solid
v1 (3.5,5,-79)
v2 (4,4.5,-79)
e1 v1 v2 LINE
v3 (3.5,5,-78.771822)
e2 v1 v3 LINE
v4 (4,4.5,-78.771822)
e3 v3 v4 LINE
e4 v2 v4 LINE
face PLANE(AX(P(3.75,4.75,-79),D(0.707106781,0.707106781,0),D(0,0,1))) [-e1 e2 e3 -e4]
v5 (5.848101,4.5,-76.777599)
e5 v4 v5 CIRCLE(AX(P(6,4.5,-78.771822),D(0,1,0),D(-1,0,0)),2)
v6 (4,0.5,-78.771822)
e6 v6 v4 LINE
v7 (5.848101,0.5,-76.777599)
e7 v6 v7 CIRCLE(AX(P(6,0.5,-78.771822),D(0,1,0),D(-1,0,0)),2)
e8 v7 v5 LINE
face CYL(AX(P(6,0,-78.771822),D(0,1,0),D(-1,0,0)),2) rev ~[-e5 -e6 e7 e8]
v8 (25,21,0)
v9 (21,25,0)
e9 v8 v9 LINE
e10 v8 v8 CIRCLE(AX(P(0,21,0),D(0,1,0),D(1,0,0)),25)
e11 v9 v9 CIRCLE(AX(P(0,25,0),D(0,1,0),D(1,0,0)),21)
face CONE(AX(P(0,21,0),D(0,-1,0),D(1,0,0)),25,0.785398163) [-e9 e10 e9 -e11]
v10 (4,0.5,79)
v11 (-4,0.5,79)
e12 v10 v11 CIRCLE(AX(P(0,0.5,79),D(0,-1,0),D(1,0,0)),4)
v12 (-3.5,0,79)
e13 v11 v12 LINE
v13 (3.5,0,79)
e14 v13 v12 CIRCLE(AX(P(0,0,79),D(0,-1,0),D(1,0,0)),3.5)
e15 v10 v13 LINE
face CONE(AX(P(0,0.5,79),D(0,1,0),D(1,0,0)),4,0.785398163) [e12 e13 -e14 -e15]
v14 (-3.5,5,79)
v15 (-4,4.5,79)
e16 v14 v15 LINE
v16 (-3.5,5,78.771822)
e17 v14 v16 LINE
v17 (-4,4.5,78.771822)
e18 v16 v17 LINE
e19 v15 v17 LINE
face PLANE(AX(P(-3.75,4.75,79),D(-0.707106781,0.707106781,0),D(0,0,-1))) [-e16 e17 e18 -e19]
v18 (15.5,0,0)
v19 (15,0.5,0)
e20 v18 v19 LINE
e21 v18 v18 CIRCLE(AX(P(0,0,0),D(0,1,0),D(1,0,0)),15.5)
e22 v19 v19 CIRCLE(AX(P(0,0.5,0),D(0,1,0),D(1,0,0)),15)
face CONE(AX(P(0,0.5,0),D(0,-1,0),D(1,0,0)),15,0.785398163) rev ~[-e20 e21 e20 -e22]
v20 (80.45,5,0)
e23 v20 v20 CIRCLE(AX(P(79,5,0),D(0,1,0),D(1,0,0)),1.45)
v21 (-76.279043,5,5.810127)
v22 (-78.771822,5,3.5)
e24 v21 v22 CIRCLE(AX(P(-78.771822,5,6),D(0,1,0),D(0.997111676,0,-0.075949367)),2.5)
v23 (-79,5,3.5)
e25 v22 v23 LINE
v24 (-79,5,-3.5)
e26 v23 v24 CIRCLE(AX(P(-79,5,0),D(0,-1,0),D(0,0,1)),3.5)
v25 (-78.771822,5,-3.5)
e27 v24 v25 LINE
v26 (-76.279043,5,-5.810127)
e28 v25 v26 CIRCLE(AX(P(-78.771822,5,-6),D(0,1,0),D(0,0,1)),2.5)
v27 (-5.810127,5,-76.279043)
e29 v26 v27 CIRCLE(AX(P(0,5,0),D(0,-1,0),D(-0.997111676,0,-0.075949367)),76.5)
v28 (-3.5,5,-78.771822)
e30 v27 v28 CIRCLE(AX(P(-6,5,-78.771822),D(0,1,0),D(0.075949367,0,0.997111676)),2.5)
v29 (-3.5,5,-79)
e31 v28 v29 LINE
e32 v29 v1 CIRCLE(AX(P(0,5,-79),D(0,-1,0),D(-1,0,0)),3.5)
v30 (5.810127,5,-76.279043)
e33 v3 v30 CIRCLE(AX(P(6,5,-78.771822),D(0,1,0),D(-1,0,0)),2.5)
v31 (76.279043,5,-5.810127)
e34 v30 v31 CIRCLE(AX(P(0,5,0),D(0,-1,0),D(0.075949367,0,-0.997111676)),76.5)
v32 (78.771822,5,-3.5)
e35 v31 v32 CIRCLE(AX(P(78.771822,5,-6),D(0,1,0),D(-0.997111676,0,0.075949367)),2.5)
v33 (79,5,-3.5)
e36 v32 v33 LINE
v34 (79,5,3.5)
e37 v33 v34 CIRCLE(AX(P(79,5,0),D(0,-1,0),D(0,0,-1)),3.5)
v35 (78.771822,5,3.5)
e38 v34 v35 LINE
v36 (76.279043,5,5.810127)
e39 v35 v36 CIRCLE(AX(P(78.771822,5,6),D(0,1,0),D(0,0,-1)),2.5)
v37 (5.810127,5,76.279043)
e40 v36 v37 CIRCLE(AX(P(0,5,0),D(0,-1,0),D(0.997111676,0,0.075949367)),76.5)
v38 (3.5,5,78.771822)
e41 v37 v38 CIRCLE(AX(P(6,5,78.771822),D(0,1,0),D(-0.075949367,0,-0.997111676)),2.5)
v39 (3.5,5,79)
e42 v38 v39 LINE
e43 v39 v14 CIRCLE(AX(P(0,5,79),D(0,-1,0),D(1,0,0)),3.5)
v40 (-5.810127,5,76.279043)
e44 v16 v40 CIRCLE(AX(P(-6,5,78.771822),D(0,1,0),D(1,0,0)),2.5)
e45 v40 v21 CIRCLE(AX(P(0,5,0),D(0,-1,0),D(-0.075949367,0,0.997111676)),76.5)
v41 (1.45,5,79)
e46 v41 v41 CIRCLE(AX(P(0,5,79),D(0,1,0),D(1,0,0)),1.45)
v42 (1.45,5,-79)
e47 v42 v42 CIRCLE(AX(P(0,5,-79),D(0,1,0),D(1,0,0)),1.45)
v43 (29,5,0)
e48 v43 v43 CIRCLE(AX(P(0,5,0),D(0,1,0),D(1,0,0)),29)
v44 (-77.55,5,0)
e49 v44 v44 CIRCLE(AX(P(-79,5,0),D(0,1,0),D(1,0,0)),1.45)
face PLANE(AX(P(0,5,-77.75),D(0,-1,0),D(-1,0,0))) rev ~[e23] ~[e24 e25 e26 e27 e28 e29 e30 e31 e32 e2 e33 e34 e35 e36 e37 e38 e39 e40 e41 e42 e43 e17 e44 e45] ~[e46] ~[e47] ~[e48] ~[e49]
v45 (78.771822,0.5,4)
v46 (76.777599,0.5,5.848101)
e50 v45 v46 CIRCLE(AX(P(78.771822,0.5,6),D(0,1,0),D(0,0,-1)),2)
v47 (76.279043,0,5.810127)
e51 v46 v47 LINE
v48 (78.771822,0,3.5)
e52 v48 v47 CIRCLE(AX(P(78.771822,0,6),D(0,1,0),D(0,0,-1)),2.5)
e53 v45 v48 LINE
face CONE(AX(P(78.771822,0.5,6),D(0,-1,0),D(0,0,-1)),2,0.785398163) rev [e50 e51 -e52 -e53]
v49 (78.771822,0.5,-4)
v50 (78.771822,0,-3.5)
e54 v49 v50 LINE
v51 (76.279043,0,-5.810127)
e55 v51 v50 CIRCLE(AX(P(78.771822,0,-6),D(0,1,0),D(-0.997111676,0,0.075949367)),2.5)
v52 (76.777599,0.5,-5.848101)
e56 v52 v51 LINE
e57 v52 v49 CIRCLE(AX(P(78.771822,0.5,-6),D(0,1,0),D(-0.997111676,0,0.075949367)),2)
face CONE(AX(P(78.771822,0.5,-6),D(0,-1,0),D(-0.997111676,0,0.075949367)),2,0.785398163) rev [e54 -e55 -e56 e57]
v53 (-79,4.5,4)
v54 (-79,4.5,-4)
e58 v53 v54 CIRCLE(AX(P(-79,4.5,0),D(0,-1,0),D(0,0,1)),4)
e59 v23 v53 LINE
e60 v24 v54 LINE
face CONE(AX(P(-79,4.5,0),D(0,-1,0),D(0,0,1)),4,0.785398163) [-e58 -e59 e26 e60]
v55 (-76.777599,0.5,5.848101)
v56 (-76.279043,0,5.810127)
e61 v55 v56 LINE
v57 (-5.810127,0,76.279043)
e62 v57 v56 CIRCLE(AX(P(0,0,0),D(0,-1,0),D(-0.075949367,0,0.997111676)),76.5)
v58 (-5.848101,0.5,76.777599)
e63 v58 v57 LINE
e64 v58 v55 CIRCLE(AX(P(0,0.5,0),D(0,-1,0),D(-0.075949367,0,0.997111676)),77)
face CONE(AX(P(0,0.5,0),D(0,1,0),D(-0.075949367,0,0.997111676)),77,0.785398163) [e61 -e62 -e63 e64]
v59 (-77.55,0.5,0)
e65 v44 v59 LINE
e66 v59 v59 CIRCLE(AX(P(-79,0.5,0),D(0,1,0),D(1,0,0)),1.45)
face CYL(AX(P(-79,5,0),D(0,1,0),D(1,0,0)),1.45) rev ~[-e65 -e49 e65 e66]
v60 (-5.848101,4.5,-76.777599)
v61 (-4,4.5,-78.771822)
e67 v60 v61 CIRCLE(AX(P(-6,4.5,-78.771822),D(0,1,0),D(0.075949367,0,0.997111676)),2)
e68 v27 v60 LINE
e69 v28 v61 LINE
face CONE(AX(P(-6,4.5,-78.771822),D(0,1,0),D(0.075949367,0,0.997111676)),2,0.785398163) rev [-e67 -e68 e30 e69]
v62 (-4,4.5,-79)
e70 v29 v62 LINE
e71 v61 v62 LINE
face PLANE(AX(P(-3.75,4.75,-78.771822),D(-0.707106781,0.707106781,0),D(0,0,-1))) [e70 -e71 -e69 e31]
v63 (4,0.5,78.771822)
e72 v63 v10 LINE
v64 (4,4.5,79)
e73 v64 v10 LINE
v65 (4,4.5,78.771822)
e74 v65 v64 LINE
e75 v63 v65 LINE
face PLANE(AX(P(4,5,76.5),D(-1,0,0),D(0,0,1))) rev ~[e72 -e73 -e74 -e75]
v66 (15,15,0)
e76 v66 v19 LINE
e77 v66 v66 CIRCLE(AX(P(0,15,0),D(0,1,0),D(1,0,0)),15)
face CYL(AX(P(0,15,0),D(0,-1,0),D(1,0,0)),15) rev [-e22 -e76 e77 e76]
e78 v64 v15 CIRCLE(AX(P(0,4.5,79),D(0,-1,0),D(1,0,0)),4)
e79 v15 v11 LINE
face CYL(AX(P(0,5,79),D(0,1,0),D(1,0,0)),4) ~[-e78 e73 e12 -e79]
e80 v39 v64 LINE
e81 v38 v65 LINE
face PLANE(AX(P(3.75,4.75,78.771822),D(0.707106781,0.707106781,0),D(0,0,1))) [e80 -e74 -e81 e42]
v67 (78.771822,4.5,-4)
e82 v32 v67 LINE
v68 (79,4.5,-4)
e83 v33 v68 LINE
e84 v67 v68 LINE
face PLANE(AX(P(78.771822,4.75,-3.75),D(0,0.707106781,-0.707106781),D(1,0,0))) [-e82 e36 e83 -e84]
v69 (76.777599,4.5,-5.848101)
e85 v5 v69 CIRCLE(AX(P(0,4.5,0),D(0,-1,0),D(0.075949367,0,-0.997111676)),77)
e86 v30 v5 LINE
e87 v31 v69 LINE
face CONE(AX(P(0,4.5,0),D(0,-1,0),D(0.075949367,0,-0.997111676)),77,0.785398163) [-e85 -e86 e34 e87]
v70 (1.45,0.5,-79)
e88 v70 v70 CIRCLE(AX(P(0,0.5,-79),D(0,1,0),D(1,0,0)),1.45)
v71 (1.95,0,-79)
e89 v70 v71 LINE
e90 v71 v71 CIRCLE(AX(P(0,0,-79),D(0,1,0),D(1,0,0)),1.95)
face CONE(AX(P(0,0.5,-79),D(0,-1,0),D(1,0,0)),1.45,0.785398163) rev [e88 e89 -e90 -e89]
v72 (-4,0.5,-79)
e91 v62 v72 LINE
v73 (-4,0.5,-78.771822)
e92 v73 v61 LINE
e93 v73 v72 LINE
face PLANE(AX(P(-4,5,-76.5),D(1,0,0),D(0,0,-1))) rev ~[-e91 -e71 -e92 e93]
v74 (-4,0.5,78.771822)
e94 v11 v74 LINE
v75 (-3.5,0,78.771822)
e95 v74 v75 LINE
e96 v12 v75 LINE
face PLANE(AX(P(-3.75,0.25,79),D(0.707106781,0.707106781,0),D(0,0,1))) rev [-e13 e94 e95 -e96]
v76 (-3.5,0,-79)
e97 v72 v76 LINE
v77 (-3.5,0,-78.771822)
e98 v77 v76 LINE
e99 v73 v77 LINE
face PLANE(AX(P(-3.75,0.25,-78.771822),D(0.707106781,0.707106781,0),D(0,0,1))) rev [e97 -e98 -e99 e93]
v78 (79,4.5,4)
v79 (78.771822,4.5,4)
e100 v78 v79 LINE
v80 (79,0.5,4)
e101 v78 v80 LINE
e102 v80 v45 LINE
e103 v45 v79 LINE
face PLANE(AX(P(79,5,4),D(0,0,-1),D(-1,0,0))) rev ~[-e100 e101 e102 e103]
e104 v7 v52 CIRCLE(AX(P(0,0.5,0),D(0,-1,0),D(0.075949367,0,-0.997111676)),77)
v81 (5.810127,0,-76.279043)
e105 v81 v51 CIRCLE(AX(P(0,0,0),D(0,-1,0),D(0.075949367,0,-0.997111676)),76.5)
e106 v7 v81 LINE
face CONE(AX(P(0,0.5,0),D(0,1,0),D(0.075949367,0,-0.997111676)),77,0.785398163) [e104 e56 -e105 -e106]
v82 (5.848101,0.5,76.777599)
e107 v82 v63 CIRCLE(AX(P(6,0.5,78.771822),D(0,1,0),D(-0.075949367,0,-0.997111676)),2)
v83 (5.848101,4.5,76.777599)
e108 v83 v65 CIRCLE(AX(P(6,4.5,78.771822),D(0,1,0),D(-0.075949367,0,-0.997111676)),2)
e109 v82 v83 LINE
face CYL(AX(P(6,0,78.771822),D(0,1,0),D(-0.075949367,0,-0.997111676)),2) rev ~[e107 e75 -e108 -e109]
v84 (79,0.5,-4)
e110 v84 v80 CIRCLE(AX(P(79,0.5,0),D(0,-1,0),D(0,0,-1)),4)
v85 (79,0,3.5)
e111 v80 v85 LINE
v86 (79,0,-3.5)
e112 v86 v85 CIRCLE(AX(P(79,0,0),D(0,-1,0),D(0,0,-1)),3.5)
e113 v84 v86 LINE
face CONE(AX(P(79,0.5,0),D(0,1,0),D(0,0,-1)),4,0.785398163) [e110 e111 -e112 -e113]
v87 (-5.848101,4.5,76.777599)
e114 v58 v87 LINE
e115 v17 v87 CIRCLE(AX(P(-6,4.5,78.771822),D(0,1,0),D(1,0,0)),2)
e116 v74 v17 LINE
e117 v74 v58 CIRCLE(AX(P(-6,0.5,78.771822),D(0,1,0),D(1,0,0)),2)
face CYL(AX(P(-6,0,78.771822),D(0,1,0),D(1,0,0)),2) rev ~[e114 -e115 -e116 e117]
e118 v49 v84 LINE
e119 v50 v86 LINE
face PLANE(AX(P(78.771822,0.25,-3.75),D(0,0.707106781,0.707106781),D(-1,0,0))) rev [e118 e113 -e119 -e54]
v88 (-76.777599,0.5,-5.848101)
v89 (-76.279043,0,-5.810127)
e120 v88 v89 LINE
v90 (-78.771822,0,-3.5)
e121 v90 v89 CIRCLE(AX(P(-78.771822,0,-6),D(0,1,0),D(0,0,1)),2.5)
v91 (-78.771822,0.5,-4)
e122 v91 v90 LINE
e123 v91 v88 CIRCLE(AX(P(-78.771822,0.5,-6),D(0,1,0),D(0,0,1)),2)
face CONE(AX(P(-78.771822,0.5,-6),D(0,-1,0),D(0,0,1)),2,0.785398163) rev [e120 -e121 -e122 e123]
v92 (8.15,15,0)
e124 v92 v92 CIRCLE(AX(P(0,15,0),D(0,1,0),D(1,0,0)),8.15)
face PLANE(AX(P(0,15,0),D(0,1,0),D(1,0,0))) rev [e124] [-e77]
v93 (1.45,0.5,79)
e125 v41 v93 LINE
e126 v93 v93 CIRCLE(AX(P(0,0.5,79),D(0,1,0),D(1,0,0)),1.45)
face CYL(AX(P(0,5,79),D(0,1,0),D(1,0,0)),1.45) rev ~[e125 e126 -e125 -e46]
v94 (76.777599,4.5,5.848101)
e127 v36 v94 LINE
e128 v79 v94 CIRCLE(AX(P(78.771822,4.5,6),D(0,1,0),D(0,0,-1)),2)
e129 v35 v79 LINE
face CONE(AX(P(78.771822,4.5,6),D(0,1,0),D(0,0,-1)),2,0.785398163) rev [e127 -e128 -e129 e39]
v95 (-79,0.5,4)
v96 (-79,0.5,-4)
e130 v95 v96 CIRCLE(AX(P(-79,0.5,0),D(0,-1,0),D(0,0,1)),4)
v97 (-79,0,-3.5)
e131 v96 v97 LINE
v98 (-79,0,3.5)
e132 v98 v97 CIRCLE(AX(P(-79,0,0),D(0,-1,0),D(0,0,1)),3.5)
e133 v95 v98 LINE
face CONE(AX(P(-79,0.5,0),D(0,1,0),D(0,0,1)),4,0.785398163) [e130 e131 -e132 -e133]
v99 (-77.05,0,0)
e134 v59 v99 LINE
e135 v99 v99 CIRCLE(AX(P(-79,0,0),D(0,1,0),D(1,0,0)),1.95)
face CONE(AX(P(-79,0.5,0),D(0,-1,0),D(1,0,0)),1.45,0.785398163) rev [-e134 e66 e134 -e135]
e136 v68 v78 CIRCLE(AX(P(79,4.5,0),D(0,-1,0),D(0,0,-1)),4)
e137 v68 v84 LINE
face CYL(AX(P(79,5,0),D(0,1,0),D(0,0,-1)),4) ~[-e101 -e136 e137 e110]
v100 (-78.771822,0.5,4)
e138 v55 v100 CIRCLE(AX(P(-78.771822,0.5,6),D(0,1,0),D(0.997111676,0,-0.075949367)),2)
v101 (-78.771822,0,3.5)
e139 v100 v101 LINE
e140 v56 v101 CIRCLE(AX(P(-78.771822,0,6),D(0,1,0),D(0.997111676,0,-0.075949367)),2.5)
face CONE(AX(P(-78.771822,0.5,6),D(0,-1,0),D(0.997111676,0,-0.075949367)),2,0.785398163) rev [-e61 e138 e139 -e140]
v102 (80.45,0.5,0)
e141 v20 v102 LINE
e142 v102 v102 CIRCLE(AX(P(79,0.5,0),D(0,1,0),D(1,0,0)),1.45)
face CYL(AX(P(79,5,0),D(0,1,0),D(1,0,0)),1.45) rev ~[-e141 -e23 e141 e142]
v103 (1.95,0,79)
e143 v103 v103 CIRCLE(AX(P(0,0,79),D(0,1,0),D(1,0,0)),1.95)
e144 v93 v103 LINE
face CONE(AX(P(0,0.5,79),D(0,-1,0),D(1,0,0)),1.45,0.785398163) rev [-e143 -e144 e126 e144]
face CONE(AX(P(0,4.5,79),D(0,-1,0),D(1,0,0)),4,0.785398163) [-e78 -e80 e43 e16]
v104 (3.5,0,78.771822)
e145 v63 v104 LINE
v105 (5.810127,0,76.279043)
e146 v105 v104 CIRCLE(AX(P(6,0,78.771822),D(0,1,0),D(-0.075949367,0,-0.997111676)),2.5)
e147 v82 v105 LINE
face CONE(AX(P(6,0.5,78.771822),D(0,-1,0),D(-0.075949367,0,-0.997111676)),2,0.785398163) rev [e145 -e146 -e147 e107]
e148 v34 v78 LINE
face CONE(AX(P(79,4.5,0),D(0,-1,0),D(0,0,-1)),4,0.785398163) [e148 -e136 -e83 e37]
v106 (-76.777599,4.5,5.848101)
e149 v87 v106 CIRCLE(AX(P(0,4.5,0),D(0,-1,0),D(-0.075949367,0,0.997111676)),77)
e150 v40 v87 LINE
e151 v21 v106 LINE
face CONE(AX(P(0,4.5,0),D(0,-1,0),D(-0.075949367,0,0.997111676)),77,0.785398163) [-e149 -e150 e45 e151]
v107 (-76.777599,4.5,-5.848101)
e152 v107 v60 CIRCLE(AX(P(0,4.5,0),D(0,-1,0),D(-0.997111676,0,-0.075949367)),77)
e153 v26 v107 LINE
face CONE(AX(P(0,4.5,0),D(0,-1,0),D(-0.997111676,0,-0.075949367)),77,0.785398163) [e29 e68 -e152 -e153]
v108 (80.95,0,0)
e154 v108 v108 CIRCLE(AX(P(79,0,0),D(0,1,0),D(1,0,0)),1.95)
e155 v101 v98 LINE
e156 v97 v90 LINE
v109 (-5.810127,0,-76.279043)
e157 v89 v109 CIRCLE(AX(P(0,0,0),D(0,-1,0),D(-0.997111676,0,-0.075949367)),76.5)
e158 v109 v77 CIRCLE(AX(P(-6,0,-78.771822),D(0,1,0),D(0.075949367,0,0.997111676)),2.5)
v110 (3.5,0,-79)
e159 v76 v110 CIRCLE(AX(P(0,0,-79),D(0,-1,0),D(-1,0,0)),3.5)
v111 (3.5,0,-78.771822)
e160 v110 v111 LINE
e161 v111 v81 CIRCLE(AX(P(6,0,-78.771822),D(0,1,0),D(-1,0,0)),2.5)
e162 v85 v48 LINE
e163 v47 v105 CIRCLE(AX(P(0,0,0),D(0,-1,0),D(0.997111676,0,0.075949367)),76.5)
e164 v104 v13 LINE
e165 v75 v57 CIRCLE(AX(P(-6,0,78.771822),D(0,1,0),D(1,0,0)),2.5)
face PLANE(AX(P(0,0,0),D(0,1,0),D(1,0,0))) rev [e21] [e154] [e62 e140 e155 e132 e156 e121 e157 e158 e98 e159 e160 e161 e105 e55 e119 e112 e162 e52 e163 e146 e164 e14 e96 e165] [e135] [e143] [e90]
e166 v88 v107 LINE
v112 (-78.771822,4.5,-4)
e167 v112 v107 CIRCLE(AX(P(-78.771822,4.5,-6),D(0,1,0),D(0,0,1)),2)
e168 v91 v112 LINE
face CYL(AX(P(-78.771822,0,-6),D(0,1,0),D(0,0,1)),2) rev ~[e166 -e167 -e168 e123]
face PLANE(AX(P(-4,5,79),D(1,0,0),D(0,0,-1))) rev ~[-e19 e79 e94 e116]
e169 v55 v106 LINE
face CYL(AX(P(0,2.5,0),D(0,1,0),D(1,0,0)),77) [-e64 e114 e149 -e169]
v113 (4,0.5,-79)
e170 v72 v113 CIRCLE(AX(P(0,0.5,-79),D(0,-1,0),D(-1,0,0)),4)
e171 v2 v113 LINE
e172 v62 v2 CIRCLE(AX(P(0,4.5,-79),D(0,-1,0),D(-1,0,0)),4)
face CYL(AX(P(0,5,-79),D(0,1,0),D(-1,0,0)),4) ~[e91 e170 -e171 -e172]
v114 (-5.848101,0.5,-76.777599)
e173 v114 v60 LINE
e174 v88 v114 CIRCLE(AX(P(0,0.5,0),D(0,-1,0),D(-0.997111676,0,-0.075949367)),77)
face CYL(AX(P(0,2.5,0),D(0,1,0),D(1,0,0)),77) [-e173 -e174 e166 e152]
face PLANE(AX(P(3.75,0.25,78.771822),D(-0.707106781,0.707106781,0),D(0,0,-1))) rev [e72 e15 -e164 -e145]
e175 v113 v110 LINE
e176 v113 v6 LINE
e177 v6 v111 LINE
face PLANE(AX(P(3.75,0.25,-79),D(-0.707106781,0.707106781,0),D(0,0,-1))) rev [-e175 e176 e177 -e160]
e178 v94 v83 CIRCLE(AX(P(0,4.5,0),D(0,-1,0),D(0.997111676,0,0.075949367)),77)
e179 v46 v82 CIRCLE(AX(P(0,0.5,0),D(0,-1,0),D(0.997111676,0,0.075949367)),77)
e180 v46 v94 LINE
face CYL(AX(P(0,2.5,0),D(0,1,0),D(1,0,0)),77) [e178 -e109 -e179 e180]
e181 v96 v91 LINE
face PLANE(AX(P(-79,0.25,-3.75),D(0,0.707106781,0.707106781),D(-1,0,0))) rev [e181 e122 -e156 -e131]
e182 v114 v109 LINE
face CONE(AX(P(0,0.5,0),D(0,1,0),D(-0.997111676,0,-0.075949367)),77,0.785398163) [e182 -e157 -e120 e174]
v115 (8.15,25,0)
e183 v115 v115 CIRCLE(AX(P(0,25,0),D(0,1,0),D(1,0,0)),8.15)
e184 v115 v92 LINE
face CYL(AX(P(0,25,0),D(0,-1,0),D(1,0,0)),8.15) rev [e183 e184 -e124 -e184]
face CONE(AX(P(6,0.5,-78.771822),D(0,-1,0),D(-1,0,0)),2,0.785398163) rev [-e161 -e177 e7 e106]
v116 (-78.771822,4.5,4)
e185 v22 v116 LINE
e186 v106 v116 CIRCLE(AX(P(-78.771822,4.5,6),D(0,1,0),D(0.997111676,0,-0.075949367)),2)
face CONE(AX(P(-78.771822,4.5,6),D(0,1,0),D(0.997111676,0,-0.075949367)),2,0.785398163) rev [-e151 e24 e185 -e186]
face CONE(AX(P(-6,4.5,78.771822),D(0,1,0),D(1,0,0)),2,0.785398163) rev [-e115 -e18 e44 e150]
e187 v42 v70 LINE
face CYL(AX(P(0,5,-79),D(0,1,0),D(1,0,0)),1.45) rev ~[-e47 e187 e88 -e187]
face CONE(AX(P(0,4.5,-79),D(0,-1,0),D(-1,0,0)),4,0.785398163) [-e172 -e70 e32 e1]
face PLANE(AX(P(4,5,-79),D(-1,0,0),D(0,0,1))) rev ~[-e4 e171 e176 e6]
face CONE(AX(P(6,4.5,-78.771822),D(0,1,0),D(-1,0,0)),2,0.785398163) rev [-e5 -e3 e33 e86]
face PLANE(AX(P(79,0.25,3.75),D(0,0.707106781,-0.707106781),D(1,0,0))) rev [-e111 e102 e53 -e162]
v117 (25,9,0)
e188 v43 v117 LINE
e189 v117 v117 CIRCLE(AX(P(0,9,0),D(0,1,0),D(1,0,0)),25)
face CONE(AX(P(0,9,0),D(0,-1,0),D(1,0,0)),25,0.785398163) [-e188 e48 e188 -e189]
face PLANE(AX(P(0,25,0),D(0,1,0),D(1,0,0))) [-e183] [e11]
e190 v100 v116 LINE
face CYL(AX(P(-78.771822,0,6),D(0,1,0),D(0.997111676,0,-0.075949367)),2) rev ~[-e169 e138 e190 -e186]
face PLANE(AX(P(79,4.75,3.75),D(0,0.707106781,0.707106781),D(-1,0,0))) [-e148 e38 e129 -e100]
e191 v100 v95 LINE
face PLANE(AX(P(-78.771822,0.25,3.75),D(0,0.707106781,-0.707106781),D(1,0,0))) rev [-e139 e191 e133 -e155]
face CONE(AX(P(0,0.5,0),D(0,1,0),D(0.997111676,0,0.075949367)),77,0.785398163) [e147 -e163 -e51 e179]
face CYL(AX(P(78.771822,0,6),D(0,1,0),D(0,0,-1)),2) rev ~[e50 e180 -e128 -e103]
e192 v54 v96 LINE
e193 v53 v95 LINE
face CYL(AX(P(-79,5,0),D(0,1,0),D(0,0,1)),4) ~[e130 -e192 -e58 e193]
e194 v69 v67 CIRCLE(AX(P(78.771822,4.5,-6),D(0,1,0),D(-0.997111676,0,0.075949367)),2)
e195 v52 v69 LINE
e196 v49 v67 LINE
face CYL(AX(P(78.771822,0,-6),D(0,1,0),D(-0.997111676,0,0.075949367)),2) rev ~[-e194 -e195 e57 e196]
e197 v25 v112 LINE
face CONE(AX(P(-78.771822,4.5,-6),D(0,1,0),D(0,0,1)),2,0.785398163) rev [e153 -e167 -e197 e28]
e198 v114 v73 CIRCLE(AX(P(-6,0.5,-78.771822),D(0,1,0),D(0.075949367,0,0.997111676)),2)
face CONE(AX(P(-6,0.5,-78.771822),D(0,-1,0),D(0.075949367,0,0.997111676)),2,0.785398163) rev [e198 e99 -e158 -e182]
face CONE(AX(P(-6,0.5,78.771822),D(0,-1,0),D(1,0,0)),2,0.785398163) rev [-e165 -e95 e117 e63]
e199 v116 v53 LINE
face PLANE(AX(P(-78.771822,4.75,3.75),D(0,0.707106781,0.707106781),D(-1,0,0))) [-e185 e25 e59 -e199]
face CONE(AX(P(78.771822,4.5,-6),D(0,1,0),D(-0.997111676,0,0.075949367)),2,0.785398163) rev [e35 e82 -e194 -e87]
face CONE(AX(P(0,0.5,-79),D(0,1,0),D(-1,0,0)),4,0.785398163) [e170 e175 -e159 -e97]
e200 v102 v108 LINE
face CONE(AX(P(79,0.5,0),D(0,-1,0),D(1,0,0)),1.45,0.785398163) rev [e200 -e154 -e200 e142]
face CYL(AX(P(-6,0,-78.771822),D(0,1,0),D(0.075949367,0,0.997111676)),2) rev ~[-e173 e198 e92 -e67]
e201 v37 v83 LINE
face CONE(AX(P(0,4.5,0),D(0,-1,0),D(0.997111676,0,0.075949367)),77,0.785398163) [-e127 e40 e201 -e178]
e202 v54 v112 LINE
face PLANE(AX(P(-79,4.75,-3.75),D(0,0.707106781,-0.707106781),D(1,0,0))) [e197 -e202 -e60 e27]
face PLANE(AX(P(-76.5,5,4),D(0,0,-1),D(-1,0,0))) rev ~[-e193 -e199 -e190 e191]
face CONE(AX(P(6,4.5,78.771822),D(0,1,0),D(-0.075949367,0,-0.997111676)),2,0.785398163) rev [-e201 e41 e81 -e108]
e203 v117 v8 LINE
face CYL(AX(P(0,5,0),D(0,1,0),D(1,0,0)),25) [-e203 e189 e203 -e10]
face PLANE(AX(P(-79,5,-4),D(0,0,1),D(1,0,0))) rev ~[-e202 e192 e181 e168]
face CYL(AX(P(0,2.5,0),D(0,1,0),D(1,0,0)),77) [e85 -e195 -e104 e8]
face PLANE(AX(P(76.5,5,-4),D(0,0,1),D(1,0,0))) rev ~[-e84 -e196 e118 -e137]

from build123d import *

# Parameters (mm, degrees)
SZKIC2_W                    = 62
SZKIC2_H                    = 5
SZKIC3_R                    = 1.45
DODANIE_WYCI_GNI_CIE1_DEPTH = 5
SFAZOWANIE1_SIZE            = 4
ZAOKR_GLENIE1_R             = 2
SFAZOWANIE2_SIZE            = 0.5


with BuildPart() as part:
    # Szkic2 → Obrót1 (revolve)
    with BuildSketch(Plane.XY):
        Polygon((15, 15), (15, 5), (25, 5), (25, 25), (8.15, 25), (8.15, 15), align=None)
        with Locations((46, 2.5)):
            Rectangle(SZKIC2_W, SZKIC2_H)
    revolve(axis=Axis((0, 0, 0), (0, 1, 0)))

    # Szkic3 → Dodanie-wyciągnięcie1 (add)
    with BuildSketch(Plane(origin=(0, 5, 0), x_dir=(1, 0, 0), z_dir=(0, 1, 0))):
        with BuildLine():
            Line((-4, 76.5), (-4, 79))
            ThreePointArc((-4, 79), (0, 83), (4, 79))
            Line((4, 79), (4, 76.5))
            ThreePointArc((4, 76.5), (0, 72.5), (-4, 76.5))
        make_face()
        with Locations((0, 79)):
            Circle(SZKIC3_R, mode=Mode.SUBTRACT)
        with BuildLine():
            Line((76.5, 4), (79, 4))
            ThreePointArc((79, 4), (83, 0), (79, -4))
            Line((79, -4), (76.5, -4))
            ThreePointArc((76.5, -4), (72.5, 0), (76.5, 4))
        make_face()
        with Locations((79, 0)):
            Circle(SZKIC3_R, mode=Mode.SUBTRACT)
        with BuildLine():
            Line((4, -76.5), (4, -79))
            ThreePointArc((4, -79), (0, -83), (-4, -79))
            Line((-4, -79), (-4, -76.5))
            ThreePointArc((-4, -76.5), (0, -72.5), (4, -76.5))
        make_face()
        with Locations((0, -79)):
            Circle(SZKIC3_R, mode=Mode.SUBTRACT)
        with BuildLine():
            Line((-76.5, -4), (-79, -4))
            ThreePointArc((-79, -4), (-83, 0), (-79, 4))
            Line((-79, 4), (-76.5, 4))
            ThreePointArc((-76.5, 4), (-72.5, 0), (-76.5, -4))
        make_face()
        with Locations((-79, 0)):
            Circle(SZKIC3_R, mode=Mode.SUBTRACT)
    extrude(amount=-DODANIE_WYCI_GNI_CIE1_DEPTH)

    # Sfazowanie1
    sfazowanie1_edges = [part.edges().sort_by_distance(p)[0] for p in [
        (-25, 25, 0),
        (-25, 5, 0),
    ]]
    chamfer(sfazowanie1_edges, length=SFAZOWANIE1_SIZE)

    # Zaokrąglenie1
    zaokr_glenie1_edges = [part.edges().sort_by_distance(p)[0] for p in [
        (-76.896033708, 2.5, -4),
        (-76.896033708, 2.5, 4),
        (-4, 2.5, 76.896033708),
        (4, 2.5, 76.896033708),
        (76.896033708, 2.5, 4),
        (76.896033708, 2.5, -4),
        (4, 2.5, -76.896033708),
        (-4, 2.5, -76.896033708),
    ]]
    fillet(zaokr_glenie1_edges, radius=ZAOKR_GLENIE1_R)

    # Sfazowanie2
    sfazowanie2_edges = [part.edges().sort_by_distance(p)[0] for p in [
        (4, 5, -78.885911187),
        (4, 0, -78.885911187),
        (-4, 5, -78.885911187),
        (-4, 0, -78.885911187),
        (77.41237349, 5, 4.53306485),
        (77.41237349, 0, 4.53306485),
        (77.41237349, 5, -4.53306485),
        (77.41237349, 0, -4.53306485),
        (4.53306485, 5, 77.41237349),
        (4.53306485, 0, 77.41237349),
        (-4.53306485, 5, 77.41237349),
        (-4.53306485, 0, 77.41237349),
        (-77.41237349, 5, 4.53306485),
        (-77.41237349, 0, 4.53306485),
        (-77.41237349, 5, -4.53306485),
        (-77.41237349, 0, -4.53306485),
        (4.53306485, 5, -77.41237349),
        (4.53306485, 0, -77.41237349),
        (-4.53306485, 5, -77.41237349),
        (-4.53306485, 0, -77.41237349),
        (-83, 0, 0),
        (-80.45, 0, 0),
        (-83, 5, 0),
        (0, 0, 83),
        (-1.45, 0, 79),
        (0, 5, 83),
        (83, 0, 0),
        (77.55, 0, 0),
        (83, 5, 0),
        (0, 0, -83),
        (-1.45, 0, -79),
        (0, 5, -83),
        (-15, 0, 0),
        (54.447222151, 5, 54.447222151),
        (54.447222151, 0, 54.447222151),
        (78.885911187, 5, 4),
        (78.885911187, 0, 4),
        (78.885911187, 5, -4),
        (78.885911187, 0, -4),
        (54.447222151, 5, -54.447222151),
        (54.447222151, 0, -54.447222151),
        (4, 5, 78.885911187),
        (4, 0, 78.885911187),
        (-54.447222151, 5, 54.447222151),
        (-54.447222151, 0, 54.447222151),
        (-4, 5, 78.885911187),
        (-4, 0, 78.885911187),
        (-78.885911187, 5, 4),
        (-78.885911187, 0, 4),
        (-54.447222151, 5, -54.447222151),
        (-54.447222151, 0, -54.447222151),
        (-78.885911187, 5, -4),
        (-78.885911187, 0, -4),
    ]]
    chamfer(sfazowanie2_edges, length=SFAZOWANIE2_SIZE)


solid = part.part
